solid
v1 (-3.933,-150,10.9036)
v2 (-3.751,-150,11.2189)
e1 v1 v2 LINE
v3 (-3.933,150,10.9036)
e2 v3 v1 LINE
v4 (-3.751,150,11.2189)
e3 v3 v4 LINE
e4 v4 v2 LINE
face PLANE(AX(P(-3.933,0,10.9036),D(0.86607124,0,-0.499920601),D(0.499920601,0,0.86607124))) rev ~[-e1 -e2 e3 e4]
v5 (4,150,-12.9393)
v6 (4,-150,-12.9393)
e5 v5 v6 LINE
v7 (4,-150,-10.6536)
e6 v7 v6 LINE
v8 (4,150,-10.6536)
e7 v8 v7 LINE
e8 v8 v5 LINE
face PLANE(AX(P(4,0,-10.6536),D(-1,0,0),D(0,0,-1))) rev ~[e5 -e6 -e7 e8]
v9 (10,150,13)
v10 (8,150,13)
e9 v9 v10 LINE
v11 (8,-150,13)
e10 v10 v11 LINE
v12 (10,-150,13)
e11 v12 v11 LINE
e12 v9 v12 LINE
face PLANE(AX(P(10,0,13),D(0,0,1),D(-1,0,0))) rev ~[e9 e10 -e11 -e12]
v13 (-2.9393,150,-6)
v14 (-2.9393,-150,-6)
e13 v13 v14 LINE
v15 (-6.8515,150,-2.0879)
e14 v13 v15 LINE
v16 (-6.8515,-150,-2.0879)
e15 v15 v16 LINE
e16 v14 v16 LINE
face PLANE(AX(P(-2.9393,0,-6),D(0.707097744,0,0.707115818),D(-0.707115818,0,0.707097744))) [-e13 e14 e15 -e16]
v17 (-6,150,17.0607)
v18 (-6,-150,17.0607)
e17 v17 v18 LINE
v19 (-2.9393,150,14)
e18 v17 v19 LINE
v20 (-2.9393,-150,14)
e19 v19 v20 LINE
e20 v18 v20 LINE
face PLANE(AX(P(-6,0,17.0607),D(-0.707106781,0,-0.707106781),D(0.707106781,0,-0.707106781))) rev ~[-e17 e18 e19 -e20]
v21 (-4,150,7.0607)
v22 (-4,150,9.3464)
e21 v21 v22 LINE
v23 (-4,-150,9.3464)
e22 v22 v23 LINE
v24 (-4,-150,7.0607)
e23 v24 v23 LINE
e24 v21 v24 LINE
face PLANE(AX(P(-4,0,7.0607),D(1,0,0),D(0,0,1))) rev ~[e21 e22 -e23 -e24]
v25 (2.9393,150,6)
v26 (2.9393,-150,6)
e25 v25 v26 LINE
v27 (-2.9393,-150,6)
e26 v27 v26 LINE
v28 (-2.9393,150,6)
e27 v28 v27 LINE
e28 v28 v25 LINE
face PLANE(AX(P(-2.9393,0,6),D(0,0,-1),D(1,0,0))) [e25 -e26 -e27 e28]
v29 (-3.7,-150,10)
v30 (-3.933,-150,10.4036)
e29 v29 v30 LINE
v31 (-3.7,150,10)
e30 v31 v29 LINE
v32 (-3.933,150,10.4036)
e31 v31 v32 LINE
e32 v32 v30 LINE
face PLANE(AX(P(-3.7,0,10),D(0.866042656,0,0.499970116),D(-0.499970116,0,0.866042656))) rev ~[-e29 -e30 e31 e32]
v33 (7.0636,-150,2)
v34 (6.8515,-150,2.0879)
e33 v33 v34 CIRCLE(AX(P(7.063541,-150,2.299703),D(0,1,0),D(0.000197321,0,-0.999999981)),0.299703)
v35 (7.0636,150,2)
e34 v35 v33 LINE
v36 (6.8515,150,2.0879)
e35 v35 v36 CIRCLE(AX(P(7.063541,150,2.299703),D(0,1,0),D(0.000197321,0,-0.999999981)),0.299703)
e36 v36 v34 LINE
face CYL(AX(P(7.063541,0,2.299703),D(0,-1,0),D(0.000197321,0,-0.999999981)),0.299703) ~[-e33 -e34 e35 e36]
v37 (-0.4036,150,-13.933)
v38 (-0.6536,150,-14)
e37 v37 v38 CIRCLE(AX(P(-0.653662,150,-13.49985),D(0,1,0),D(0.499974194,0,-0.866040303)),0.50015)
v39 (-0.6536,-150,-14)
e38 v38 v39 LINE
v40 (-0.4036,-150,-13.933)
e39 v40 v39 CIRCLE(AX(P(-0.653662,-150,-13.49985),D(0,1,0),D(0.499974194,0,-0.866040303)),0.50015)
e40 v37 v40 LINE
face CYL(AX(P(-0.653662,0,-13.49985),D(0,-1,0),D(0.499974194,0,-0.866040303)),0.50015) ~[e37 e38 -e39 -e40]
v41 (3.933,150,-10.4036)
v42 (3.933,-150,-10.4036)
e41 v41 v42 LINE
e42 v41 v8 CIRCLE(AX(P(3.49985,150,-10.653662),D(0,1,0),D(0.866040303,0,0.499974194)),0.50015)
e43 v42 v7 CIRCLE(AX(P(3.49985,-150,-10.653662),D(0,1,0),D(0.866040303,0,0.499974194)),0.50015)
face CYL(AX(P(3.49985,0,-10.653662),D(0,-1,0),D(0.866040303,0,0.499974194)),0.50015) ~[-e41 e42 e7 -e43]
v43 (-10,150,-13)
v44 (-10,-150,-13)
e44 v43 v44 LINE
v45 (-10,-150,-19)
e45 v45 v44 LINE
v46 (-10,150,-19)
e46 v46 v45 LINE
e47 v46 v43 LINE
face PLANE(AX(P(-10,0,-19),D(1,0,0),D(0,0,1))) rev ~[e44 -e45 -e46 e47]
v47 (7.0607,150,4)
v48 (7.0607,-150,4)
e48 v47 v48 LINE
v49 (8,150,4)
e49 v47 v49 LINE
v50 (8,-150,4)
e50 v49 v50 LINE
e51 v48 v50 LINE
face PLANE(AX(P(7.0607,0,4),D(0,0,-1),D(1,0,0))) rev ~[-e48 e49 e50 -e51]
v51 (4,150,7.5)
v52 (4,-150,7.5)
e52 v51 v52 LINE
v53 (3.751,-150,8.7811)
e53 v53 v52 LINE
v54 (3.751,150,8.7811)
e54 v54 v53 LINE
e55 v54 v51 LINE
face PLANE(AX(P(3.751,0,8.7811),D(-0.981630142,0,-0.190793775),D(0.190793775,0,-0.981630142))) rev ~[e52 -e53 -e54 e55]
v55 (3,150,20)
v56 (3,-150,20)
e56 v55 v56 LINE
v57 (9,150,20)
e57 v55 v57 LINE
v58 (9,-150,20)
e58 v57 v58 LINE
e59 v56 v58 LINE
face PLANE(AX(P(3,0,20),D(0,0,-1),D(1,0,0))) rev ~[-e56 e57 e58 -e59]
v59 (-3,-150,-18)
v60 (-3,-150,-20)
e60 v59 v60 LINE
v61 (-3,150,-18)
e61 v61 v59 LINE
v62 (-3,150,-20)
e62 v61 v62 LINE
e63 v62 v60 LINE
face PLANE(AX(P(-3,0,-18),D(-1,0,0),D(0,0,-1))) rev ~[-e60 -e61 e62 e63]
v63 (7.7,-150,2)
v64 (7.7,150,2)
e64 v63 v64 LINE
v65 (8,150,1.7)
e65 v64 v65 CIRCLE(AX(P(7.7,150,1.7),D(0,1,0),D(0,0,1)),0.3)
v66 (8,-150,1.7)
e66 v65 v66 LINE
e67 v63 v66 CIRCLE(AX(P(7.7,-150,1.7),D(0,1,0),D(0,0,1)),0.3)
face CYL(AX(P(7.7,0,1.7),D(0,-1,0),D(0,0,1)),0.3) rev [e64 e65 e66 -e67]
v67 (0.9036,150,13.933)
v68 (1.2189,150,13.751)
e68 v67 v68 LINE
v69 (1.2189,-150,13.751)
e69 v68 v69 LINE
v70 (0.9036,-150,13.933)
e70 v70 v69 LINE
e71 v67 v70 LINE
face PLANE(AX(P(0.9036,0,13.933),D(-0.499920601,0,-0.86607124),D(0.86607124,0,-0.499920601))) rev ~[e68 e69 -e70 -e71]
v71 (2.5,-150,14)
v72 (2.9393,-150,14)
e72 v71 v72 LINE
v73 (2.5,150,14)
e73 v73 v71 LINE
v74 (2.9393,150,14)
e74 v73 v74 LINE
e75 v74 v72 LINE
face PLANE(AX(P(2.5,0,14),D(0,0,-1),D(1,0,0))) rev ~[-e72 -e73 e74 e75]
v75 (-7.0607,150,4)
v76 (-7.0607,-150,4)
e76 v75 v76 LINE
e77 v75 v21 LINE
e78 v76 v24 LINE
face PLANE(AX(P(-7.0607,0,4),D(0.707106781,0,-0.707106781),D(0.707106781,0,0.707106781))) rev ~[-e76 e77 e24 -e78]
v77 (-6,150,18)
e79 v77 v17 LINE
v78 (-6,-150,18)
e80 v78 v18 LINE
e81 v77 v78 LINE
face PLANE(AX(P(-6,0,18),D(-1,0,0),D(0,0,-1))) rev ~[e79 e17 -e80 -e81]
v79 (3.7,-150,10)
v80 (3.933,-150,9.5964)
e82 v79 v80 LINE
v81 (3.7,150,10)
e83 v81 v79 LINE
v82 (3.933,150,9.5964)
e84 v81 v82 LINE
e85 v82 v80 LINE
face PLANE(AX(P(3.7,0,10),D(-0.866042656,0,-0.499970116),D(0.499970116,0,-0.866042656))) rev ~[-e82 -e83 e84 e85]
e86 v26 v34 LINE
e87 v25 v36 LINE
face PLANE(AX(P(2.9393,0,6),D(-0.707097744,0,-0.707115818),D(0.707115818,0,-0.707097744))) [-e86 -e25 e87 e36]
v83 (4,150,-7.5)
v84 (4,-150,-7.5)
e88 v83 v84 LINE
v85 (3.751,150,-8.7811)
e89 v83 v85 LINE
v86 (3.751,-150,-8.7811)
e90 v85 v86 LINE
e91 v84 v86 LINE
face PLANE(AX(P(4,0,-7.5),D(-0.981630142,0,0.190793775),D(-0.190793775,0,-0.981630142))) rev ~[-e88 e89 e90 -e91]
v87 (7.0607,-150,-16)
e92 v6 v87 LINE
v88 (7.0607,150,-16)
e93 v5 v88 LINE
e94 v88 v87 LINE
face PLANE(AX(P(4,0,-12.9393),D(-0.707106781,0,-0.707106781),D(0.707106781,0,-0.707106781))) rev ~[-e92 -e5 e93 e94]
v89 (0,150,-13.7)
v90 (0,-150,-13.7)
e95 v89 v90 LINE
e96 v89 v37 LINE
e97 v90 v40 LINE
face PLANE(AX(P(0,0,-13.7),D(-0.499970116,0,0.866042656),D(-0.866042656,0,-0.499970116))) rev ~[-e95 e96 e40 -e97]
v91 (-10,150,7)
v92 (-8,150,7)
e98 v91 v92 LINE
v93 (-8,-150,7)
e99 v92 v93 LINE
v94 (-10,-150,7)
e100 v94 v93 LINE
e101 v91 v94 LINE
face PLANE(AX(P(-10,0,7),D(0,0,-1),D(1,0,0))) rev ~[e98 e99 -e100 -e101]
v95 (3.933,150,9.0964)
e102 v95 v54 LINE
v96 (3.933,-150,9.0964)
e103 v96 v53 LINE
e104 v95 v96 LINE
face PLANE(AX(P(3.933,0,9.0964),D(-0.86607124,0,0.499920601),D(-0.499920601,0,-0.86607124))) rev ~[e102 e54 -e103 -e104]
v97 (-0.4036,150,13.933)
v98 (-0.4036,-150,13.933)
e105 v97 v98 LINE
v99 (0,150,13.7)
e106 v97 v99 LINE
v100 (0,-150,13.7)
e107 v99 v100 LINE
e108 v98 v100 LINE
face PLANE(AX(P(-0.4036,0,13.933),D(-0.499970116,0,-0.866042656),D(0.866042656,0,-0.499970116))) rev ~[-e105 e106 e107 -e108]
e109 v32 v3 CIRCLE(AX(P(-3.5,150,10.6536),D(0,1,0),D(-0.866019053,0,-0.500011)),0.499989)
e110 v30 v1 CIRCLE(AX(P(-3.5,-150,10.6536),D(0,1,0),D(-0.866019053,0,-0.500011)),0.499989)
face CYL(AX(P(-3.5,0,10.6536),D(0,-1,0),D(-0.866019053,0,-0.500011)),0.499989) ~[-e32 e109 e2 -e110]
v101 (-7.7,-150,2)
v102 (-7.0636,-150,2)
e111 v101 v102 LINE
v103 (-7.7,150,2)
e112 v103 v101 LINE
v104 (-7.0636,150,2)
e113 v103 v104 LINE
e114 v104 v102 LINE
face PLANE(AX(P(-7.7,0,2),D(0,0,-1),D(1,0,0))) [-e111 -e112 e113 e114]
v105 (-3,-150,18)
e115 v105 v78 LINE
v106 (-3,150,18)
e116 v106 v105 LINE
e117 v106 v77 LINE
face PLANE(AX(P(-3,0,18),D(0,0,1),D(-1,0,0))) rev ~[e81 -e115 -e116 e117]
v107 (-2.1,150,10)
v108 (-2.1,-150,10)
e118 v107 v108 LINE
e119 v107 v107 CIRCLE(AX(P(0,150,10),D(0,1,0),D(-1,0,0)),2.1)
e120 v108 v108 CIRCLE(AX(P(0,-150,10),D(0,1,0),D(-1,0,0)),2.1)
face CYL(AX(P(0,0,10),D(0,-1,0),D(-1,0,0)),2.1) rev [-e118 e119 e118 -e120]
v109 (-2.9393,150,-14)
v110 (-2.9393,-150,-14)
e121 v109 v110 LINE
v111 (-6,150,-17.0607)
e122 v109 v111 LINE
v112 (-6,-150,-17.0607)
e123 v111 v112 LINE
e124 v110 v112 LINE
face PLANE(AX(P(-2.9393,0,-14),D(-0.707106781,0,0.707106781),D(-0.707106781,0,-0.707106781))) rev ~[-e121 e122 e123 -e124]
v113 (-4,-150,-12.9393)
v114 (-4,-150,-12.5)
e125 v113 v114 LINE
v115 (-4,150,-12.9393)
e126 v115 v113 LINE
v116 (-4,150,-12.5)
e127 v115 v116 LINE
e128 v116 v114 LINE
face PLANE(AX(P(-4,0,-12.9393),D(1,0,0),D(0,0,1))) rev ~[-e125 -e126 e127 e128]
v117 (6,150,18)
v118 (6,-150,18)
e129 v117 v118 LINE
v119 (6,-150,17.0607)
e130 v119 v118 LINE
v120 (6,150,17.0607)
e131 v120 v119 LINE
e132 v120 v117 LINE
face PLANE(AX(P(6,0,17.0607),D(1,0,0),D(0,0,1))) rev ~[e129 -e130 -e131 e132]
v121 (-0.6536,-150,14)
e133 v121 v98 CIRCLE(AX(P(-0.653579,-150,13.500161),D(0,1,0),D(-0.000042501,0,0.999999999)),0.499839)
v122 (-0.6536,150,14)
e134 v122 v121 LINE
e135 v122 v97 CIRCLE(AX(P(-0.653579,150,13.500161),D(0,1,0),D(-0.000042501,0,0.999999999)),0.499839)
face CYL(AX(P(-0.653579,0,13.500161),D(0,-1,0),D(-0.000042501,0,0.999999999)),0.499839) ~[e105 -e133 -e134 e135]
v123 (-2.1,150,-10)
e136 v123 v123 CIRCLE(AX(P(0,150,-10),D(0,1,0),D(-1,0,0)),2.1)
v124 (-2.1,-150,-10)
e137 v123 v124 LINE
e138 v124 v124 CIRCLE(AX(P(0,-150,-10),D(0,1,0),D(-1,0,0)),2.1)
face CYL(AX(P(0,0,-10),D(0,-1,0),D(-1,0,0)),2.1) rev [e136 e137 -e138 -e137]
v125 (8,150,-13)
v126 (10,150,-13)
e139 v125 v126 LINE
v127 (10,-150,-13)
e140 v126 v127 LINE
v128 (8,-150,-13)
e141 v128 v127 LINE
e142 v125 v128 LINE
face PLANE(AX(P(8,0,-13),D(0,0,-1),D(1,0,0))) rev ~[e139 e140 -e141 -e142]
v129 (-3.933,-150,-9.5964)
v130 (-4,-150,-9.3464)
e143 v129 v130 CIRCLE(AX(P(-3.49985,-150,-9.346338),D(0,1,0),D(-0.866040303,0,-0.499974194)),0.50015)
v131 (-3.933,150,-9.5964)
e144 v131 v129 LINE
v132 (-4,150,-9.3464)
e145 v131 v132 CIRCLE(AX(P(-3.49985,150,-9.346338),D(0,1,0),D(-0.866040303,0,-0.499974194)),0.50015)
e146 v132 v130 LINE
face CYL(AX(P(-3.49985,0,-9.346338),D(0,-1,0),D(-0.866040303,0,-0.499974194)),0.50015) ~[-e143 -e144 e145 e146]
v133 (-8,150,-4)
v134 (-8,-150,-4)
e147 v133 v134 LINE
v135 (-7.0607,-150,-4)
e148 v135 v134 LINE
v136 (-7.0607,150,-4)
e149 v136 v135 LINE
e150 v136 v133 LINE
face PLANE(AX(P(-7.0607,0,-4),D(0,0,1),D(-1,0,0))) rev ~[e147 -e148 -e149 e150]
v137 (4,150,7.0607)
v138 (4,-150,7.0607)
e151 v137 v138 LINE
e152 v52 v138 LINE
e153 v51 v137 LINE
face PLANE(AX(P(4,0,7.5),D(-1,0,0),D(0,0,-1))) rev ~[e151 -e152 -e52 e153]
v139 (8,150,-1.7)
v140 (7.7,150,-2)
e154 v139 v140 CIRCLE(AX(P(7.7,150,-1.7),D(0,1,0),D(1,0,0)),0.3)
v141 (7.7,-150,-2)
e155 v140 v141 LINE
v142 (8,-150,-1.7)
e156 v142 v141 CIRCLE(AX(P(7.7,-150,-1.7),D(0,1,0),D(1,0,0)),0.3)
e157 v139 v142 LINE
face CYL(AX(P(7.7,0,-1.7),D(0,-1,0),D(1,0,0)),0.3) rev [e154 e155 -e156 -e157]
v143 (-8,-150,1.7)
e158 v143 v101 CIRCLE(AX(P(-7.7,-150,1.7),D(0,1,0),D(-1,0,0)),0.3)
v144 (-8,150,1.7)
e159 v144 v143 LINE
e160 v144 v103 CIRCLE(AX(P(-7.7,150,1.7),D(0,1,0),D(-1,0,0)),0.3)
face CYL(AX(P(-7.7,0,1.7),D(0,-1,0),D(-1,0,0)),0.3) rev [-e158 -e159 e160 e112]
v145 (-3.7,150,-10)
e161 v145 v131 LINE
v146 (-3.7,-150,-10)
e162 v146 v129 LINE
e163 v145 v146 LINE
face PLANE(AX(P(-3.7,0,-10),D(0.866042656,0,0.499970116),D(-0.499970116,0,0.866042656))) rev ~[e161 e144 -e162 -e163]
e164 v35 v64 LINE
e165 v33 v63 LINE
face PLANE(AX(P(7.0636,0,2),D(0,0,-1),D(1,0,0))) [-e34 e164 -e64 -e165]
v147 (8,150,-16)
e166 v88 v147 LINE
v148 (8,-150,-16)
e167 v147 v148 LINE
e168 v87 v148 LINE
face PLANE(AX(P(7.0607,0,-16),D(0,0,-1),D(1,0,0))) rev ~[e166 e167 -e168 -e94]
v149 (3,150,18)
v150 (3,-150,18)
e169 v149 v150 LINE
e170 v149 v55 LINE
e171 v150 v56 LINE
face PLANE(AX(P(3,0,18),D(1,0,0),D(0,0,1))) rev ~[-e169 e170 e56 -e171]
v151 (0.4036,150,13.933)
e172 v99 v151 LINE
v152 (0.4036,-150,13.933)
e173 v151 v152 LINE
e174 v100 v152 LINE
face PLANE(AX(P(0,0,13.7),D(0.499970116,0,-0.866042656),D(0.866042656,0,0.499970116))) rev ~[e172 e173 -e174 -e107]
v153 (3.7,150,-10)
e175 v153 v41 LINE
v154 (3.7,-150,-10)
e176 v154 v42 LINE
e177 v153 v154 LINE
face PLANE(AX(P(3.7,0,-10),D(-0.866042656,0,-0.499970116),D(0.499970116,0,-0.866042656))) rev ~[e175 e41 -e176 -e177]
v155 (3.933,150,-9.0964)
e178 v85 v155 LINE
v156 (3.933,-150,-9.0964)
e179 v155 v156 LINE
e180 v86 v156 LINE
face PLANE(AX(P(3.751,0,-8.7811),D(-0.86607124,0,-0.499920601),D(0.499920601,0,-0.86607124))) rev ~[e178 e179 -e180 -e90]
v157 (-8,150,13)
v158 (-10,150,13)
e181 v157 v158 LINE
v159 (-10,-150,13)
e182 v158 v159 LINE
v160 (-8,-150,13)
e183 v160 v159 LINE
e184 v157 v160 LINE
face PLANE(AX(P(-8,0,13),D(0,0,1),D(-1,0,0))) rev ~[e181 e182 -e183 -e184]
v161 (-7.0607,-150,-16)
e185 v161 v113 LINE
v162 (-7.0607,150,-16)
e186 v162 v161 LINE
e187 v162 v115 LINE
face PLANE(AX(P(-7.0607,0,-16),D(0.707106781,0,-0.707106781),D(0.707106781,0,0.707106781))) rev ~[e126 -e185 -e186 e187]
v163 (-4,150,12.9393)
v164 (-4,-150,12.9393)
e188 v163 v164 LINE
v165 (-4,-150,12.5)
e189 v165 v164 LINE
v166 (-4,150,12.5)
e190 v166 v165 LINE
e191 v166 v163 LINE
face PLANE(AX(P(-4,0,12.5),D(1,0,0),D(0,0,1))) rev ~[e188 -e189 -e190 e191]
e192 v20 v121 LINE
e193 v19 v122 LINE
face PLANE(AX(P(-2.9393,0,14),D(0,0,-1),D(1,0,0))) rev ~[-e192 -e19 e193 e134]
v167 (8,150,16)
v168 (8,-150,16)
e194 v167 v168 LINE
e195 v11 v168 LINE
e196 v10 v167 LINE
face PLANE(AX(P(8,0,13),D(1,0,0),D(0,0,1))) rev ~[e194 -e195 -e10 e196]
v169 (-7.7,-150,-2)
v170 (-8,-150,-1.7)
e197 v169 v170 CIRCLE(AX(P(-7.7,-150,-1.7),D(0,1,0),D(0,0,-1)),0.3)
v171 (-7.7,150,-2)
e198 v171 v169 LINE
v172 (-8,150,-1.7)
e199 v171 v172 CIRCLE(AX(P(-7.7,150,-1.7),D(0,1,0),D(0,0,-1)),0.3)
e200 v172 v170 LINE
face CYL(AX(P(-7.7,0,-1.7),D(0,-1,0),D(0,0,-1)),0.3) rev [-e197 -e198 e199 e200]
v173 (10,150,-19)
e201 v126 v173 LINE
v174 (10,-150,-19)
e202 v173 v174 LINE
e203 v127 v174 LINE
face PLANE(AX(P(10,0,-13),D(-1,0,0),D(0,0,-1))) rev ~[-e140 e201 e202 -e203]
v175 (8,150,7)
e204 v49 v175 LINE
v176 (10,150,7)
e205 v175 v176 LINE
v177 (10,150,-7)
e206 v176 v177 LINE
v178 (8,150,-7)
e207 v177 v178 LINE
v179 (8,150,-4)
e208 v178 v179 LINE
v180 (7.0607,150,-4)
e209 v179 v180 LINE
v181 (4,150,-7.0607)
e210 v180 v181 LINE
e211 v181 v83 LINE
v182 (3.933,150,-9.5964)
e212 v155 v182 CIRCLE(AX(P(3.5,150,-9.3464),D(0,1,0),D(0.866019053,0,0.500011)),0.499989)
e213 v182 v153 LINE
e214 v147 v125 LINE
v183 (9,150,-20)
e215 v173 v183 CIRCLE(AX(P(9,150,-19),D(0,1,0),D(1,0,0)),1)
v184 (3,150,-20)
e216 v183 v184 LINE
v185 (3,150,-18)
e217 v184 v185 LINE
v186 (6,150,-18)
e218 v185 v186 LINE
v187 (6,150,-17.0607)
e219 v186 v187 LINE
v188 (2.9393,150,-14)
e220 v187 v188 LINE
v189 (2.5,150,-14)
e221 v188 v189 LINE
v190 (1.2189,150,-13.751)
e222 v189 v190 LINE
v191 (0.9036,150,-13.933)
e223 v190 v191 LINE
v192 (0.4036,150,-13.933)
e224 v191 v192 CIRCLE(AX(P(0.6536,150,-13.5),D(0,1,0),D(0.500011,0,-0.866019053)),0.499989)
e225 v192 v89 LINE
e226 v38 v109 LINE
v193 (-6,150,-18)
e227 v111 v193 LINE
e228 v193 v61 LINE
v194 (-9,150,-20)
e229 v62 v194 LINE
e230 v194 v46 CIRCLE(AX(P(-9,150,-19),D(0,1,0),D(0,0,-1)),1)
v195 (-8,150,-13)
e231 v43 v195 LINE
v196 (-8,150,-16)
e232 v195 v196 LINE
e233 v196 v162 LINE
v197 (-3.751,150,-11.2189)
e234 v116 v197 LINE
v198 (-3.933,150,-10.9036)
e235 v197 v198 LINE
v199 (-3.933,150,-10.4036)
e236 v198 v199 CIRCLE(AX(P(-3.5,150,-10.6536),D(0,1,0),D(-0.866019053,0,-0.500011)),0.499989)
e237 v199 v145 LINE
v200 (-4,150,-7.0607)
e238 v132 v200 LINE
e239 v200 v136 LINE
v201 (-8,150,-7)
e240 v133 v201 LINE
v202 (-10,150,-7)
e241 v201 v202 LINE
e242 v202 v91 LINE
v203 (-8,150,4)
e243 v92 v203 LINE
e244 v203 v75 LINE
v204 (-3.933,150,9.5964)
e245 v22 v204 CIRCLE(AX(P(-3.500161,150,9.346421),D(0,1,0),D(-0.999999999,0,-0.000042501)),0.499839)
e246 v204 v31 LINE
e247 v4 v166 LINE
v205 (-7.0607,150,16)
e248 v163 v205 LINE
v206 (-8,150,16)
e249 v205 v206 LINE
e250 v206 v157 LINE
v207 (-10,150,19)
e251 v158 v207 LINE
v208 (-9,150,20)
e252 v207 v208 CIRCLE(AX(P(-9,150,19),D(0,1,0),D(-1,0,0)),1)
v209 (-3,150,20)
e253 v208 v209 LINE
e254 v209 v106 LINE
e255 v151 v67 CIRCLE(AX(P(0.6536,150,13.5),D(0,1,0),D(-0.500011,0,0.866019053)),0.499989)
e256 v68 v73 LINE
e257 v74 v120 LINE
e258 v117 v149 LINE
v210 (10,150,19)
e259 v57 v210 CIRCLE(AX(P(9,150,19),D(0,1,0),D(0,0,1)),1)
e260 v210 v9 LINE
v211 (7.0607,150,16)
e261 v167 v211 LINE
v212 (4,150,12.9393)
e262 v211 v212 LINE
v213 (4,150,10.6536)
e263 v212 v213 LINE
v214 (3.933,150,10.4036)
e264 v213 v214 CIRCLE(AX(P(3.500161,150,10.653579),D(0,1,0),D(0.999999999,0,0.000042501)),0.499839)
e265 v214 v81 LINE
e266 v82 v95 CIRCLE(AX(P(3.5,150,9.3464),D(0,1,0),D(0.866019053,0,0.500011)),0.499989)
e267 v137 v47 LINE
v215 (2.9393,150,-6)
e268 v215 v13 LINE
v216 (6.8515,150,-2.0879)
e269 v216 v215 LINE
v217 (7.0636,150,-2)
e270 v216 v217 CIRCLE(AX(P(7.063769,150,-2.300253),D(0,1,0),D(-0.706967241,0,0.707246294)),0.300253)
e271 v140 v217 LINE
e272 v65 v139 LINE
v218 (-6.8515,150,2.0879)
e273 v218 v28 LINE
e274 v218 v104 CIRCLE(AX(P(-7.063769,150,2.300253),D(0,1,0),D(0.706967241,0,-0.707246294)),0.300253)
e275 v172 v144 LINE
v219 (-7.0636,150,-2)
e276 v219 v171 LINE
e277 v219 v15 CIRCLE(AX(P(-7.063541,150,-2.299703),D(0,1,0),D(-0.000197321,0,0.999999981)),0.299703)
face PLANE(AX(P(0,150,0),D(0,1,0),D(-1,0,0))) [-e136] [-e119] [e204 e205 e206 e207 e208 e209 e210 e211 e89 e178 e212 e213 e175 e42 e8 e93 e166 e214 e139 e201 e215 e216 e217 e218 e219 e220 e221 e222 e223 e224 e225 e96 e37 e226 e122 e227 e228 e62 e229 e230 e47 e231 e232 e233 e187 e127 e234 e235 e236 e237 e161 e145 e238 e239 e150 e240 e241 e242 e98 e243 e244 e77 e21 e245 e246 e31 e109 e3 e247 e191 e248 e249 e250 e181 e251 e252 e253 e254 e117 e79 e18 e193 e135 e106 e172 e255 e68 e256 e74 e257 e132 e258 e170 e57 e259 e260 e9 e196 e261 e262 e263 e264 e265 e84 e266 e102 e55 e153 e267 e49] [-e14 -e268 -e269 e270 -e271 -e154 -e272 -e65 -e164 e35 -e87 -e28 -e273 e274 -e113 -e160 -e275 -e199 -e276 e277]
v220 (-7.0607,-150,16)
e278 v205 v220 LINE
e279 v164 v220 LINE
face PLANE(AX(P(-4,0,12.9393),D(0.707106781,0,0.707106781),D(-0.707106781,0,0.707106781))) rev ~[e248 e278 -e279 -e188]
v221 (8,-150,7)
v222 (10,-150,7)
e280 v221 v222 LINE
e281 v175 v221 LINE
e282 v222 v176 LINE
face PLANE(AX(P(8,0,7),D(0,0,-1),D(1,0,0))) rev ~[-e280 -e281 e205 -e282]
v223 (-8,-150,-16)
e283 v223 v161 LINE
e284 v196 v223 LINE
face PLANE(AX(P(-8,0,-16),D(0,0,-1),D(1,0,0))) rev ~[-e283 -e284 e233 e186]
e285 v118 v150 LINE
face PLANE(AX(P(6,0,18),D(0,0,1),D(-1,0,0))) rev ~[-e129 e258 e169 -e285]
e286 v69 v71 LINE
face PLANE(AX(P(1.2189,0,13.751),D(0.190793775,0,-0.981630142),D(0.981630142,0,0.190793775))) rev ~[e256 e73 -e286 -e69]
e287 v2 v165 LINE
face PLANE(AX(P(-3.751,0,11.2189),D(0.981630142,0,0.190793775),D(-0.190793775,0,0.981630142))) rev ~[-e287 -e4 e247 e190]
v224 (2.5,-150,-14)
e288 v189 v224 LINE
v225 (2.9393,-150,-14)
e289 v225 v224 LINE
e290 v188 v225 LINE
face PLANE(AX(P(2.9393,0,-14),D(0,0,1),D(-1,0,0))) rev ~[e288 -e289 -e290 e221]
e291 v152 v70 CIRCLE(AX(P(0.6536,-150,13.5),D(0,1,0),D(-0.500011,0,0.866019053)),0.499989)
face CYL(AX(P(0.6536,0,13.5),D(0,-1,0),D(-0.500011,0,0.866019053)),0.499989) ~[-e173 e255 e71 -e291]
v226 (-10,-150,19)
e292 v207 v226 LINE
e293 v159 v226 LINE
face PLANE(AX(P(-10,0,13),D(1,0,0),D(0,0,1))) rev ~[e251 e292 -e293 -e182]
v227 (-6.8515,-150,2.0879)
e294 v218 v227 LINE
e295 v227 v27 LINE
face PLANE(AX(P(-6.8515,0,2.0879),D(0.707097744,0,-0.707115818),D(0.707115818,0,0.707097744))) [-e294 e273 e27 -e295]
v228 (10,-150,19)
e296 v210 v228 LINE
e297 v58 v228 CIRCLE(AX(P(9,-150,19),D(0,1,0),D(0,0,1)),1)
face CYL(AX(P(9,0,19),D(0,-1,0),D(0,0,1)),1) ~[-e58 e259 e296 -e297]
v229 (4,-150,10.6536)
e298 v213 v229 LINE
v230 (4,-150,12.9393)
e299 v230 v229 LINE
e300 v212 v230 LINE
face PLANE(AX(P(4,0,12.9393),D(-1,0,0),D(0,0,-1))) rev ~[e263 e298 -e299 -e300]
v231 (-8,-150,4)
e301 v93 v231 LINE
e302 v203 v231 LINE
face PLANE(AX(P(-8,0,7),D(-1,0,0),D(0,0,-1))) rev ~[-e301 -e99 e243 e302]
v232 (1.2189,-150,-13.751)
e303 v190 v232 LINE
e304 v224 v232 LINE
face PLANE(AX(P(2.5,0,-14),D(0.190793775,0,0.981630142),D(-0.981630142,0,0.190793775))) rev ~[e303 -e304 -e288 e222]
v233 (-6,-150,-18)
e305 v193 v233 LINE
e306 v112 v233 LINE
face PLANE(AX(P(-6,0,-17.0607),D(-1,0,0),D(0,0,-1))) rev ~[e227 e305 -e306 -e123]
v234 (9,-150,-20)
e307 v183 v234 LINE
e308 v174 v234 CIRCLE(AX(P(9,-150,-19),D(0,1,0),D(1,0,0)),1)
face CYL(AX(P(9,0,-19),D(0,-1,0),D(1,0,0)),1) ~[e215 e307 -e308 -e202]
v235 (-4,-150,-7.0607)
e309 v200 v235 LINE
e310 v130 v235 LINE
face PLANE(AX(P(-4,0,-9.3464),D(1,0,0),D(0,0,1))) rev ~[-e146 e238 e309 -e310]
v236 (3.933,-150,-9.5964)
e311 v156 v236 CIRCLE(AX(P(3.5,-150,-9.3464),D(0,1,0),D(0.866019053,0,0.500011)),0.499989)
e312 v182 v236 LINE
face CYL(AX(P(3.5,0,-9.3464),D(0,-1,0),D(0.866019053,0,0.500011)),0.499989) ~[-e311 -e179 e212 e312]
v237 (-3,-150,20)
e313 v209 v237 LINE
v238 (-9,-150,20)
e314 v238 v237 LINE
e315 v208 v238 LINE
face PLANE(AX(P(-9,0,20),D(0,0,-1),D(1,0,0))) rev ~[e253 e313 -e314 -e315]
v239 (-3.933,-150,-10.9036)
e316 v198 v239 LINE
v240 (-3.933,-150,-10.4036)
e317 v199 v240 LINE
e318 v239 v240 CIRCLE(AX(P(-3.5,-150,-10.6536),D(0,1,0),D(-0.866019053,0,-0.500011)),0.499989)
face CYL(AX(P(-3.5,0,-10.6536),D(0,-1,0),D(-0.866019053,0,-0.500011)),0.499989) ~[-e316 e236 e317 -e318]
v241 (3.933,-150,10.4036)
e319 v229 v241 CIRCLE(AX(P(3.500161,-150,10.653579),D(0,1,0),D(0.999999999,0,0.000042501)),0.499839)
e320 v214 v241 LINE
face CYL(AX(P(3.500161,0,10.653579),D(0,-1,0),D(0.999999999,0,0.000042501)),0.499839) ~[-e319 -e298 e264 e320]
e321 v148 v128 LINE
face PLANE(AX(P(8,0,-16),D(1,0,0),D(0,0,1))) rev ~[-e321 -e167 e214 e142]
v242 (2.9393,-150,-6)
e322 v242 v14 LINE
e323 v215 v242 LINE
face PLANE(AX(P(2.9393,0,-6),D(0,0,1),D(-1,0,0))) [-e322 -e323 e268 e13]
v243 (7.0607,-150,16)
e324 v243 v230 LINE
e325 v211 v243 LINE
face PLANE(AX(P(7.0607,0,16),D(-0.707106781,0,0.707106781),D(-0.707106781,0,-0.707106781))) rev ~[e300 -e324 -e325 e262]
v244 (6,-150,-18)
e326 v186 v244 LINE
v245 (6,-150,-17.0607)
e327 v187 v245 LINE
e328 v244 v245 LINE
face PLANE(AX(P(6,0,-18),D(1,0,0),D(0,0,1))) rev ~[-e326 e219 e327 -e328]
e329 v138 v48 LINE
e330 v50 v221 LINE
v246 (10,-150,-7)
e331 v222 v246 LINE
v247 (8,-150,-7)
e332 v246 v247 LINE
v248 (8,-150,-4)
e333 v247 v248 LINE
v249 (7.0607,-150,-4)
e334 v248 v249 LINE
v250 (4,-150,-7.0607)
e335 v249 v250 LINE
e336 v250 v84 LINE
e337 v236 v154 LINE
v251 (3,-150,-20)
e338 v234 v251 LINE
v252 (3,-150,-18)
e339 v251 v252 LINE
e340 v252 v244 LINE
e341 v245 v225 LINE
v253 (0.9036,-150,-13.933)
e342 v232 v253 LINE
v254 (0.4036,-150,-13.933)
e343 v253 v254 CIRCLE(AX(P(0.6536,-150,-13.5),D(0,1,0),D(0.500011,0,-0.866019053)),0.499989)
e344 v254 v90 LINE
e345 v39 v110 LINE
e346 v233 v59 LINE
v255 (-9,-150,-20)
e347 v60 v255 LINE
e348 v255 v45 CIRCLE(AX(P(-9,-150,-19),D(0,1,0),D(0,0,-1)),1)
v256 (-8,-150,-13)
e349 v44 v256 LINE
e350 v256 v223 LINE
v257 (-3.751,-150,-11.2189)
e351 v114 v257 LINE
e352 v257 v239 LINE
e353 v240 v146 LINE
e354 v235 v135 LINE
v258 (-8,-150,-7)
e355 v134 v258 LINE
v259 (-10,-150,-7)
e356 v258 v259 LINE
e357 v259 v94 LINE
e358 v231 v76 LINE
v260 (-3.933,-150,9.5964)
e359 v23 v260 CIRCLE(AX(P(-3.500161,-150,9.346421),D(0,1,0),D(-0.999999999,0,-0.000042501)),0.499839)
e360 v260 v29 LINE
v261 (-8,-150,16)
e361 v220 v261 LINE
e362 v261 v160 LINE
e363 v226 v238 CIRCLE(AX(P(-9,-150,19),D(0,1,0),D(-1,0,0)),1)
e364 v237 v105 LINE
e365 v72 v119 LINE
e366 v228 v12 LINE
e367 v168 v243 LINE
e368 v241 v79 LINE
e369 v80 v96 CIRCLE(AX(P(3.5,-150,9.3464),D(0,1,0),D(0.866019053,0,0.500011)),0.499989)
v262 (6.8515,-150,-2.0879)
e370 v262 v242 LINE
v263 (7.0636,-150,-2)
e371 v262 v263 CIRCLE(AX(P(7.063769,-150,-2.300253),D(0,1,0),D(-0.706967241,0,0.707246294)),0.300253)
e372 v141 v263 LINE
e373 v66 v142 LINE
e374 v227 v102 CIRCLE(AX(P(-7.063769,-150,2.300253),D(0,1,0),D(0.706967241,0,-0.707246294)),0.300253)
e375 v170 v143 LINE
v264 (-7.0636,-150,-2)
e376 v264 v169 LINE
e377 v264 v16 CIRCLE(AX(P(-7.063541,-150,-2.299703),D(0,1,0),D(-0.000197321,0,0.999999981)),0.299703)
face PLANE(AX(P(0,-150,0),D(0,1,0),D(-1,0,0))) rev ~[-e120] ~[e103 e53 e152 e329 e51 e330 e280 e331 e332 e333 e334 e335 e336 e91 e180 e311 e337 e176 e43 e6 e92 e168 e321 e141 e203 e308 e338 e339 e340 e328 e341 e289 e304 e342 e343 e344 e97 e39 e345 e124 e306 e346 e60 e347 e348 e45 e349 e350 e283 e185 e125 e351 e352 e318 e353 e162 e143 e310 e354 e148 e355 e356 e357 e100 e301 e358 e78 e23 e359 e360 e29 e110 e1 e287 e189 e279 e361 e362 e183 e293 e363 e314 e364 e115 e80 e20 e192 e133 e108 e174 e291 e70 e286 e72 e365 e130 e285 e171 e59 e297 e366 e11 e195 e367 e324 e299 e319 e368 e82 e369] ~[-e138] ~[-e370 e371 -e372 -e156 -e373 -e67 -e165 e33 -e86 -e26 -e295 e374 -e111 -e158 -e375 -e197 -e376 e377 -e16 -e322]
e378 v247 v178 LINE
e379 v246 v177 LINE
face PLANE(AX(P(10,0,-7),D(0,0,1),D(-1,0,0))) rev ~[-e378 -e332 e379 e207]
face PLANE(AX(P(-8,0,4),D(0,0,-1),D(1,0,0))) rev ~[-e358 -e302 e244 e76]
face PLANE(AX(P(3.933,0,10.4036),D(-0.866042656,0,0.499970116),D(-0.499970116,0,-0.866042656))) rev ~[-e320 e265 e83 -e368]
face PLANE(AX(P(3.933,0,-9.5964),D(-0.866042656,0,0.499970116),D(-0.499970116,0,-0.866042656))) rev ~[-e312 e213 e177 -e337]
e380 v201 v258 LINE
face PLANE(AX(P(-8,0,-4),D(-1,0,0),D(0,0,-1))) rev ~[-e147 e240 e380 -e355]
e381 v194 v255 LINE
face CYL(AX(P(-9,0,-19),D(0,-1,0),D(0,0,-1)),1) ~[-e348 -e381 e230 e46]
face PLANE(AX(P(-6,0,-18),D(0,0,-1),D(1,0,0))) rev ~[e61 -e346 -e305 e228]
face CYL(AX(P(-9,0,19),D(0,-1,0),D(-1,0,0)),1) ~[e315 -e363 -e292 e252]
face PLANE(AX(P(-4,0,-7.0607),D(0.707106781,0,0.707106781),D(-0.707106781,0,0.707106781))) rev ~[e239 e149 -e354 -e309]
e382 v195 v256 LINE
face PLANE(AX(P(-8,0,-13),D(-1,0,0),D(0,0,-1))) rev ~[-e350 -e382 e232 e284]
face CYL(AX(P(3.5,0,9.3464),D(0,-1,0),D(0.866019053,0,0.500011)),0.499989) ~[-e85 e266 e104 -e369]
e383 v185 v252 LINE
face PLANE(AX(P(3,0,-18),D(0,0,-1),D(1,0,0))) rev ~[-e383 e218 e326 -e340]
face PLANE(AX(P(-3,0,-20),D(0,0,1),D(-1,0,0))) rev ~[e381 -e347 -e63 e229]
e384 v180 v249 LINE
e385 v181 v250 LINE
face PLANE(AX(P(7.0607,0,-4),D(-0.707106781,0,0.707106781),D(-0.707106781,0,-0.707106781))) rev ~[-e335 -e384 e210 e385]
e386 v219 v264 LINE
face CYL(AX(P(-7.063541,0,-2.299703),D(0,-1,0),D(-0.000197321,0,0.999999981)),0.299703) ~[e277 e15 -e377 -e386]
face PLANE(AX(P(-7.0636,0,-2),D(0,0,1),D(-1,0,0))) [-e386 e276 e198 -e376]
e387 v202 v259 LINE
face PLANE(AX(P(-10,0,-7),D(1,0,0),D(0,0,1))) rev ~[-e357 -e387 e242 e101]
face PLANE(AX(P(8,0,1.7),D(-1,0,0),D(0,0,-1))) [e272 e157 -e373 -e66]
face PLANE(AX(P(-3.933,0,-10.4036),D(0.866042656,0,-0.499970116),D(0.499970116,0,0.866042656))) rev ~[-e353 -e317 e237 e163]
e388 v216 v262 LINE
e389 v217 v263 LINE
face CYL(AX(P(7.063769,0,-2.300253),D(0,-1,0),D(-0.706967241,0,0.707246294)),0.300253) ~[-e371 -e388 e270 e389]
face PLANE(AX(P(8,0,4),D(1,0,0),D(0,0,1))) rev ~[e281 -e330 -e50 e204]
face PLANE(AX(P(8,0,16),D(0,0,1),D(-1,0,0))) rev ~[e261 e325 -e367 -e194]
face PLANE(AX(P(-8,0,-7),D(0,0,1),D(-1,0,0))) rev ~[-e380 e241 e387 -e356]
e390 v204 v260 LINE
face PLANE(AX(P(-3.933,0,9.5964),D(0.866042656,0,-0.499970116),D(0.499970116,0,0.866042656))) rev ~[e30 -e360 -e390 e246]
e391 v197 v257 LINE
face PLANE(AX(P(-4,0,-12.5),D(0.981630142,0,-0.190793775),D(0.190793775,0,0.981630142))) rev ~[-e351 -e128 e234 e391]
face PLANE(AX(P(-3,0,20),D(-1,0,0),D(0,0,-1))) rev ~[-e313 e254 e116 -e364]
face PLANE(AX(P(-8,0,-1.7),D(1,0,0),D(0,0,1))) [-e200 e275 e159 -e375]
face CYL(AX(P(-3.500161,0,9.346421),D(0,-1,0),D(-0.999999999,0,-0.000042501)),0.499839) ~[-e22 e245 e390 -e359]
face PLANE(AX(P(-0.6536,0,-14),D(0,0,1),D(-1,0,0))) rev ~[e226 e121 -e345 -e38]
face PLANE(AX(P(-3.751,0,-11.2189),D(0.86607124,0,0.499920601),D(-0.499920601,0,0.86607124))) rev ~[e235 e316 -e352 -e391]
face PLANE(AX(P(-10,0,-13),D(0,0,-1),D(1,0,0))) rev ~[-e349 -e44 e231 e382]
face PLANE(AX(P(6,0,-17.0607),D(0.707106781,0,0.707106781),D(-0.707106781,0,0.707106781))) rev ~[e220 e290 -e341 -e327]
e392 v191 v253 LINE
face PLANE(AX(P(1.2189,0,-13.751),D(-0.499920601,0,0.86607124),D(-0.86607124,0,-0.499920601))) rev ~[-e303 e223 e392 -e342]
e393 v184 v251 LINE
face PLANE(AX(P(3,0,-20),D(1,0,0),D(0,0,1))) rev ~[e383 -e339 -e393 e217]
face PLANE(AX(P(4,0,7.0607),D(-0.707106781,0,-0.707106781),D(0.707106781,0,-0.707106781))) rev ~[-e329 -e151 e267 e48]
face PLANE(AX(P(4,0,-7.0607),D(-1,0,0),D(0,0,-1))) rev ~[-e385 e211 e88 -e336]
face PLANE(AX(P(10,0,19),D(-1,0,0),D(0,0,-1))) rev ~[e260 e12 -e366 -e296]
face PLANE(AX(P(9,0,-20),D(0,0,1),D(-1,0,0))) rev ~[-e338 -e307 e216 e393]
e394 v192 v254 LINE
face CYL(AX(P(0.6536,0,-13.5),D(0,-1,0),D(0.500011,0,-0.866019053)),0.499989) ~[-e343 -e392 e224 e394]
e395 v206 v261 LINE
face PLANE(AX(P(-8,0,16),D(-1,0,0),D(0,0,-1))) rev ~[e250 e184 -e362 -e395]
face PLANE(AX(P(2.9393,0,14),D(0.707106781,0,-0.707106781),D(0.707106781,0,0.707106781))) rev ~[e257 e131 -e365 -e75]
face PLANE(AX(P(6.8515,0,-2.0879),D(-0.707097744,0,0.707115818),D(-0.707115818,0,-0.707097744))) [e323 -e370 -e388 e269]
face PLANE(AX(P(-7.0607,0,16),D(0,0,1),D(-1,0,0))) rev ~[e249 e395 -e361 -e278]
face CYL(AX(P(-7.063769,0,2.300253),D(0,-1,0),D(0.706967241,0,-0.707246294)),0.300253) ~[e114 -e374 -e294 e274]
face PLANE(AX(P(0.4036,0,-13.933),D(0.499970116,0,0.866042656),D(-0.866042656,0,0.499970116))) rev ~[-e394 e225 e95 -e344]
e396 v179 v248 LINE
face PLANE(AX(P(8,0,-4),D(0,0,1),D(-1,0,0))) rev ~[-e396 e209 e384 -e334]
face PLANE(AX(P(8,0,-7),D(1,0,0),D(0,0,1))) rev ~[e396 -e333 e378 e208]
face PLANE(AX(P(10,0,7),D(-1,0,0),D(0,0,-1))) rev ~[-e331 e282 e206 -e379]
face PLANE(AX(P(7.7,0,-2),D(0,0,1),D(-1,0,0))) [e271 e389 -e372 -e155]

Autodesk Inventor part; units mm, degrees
ref_plane "YZ Plane" through (0, 0, 0) normal (1, 0, 0) x (0, 1, 0)
ref_plane "XZ Plane" through (0, 0, 0) normal (0, 1, 0) x (-1, 0, 0)
ref_plane "XY Plane" through (0, 0, 0) normal (0, 0, 1) x (1, 0, 0)
sketch "Sketch1" plane through (0, 0, 0) normal (0, 1, 0) x (-1, 0, 0)
  line L0 (-10, 7) -> (-10, -7)
  line L1 (-10, -7) -> (-8, -7)
  line L2 (-8, -7) -> (-8, -4)
  line L3 (-8, -4) -> (-7.0607, -4)
  line L4 (-7.0607, -4) -> (-4, -7.0607)
  line L5 (-4, -7.0607) -> (-4, -7.5)
  line L6 (-4, -7.5) -> (-3.751, -8.7811)
  line L7 (-3.751, -8.7811) -> (-3.933, -9.0964)
  arc A0 (-3.933, -9.0964) -> (-3.933, -9.5964) centre (-3.5, -9.3464) ccw
  line L8 (-3.933, -9.5964) -> (-3.7, -10)
  line L9 (-3.7, -10) -> (-3.933, -10.4036)
  arc A1 (-3.933, -10.4036) -> (-4, -10.6536) centre (-3.5, -10.6536) ccw
  line L10 (-4, -10.6536) -> (-4, -12.9393)
  line L11 (-4, -12.9393) -> (-7.0607, -16)
  line L12 (-7.0607, -16) -> (-8, -16)
  line L13 (-8, -16) -> (-8, -13)
  line L14 (-8, -13) -> (-10, -13)
  line L15 (-10, -13) -> (-10, -19)
  arc A2 (-10, -19) -> (-9, -20) centre (-9, -19) ccw
  line L16 (-9, -20) -> (-3, -20)
  line L17 (-3, -20) -> (-3, -18)
  line L18 (-3, -18) -> (-6, -18)
  line L19 (-6, -18) -> (-6, -17.0607)
  line L20 (-6, -17.0607) -> (-2.9393, -14)
  line L21 (-2.9393, -14) -> (-2.5, -14)
  line L22 (-2.5, -14) -> (-1.2189, -13.751)
  line L23 (-1.2189, -13.751) -> (-0.9036, -13.933)
  arc A3 (-0.9036, -13.933) -> (-0.4036, -13.933) centre (-0.6536, -13.5) ccw
  line L24 (-0.4036, -13.933) -> (0, -13.7)
  line L25 (0, -13.7) -> (0.4036, -13.933)
  arc A4 (0.4036, -13.933) -> (0.6536, -14) centre (0.6536, -13.5) ccw
  line L26 (0.6536, -14) -> (2.9393, -14)
  line L27 (2.9393, -14) -> (6, -17.0607)
  line L28 (6, -17.0607) -> (6, -18)
  line L29 (6, -18) -> (3, -18)
  line L30 (3, -18) -> (3, -20)
  line L31 (3, -20) -> (9, -20)
  arc A5 (9, -20) -> (10, -19) centre (9, -19) ccw
  line L32 (10, -19) -> (10, -13)
  line L33 (10, -13) -> (8, -13)
  line L34 (8, -13) -> (8, -16)
  line L35 (8, -16) -> (7.0607, -16)
  line L36 (7.0607, -16) -> (4, -12.9393)
  line L37 (4, -12.9393) -> (4, -12.5)
  line L38 (4, -12.5) -> (3.751, -11.2189)
  line L39 (3.751, -11.2189) -> (3.933, -10.9036)
  arc A6 (3.933, -10.9036) -> (3.933, -10.4036) centre (3.5, -10.6536) ccw
  line L40 (3.933, -10.4036) -> (3.7, -10)
  line L41 (3.7, -10) -> (3.933, -9.5964)
  arc A7 (3.933, -9.5964) -> (4, -9.3464) centre (3.5, -9.3464) ccw
  line L42 (4, -9.3464) -> (4, -7.0607)
  line L43 (4, -7.0607) -> (7.0607, -4)
  line L44 (7.0607, -4) -> (8, -4)
  line L45 (8, -4) -> (8, -7)
  line L46 (8, -7) -> (10, -7)
  line L47 (10, -7) -> (10, 7)
  line L48 (10, 7) -> (8, 7)
  line L49 (8, 7) -> (8, 4)
  line L50 (8, 4) -> (7.0607, 4)
  line L51 (7.0607, 4) -> (4, 7.0607)
  line L52 (4, 7.0607) -> (4, 9.3464)
  arc A8 (4, 9.3464) -> (3.933, 9.5964) centre (3.5, 9.3464) ccw
  line L53 (3.933, 9.5964) -> (3.7, 10)
  line L54 (3.7, 10) -> (3.933, 10.4036)
  arc A9 (3.933, 10.4036) -> (3.933, 10.9036) centre (3.5, 10.6536) ccw
  line L55 (3.933, 10.9036) -> (3.751, 11.2189)
  line L56 (3.751, 11.2189) -> (4, 12.5)
  line L57 (4, 12.5) -> (4, 12.9393)
  line L58 (4, 12.9393) -> (7.0607, 16)
  line L59 (7.0607, 16) -> (8, 16)
  line L60 (8, 16) -> (8, 13)
  line L61 (8, 13) -> (10, 13)
  line L62 (10, 13) -> (10, 19)
  arc A10 (10, 19) -> (9, 20) centre (9, 19) ccw
  line L63 (9, 20) -> (3, 20)
  line L64 (3, 20) -> (3, 18)
  line L65 (3, 18) -> (6, 18)
  line L66 (6, 18) -> (6, 17.0607)
  line L67 (6, 17.0607) -> (2.9393, 14)
  line L68 (2.9393, 14) -> (0.6536, 14)
  arc A11 (0.6536, 14) -> (0.4036, 13.933) centre (0.6536, 13.5) ccw
  line L69 (0.4036, 13.933) -> (0, 13.7)
  line L70 (0, 13.7) -> (-0.4036, 13.933)
  arc A12 (-0.4036, 13.933) -> (-0.9036, 13.933) centre (-0.6536, 13.5) ccw
  line L71 (-0.9036, 13.933) -> (-1.2189, 13.751)
  line L72 (-1.2189, 13.751) -> (-2.5, 14)
  line L73 (-2.5, 14) -> (-2.9393, 14)
  line L74 (-2.9393, 14) -> (-6, 17.0607)
  line L75 (-6, 17.0607) -> (-6, 18)
  line L76 (-6, 18) -> (-3, 18)
  line L77 (-3, 18) -> (-3, 20)
  line L78 (-3, 20) -> (-9, 20)
  arc A13 (-9, 20) -> (-10, 19) centre (-9, 19) ccw
  line L79 (-10, 19) -> (-10, 13)
  line L80 (-10, 13) -> (-8, 13)
  line L81 (-8, 13) -> (-8, 16)
  line L82 (-8, 16) -> (-7.0607, 16)
  line L83 (-7.0607, 16) -> (-4, 12.9393)
  line L84 (-4, 12.9393) -> (-4, 10.6536)
  arc A14 (-4, 10.6536) -> (-3.933, 10.4036) centre (-3.5, 10.6536) ccw
  line L85 (-3.933, 10.4036) -> (-3.7, 10)
  line L86 (-3.7, 10) -> (-3.933, 9.5964)
  arc A15 (-3.933, 9.5964) -> (-3.933, 9.0964) centre (-3.5, 9.3464) ccw
  line L87 (-3.933, 9.0964) -> (-3.751, 8.7811)
  line L88 (-3.751, 8.7811) -> (-4, 7.5)
  line L89 (-4, 7.5) -> (-4, 7.0607)
  line L90 (-4, 7.0607) -> (-7.0607, 4)
  line L91 (-7.0607, 4) -> (-8, 4)
  line L92 (-8, 4) -> (-8, 7)
  arc A16 (-7.7, 2) -> (-8, 1.7) centre (-7.7, 1.7) ccw
  line L93 (-7.0636, 2) -> (-7.7, 2)
  arc A17 (-7.0636, 2) -> (-6.8515, 2.0879) centre (-7.0636, 2.3) ccw
  line L94 (-2.9393, 6) -> (-6.8515, 2.0879)
  line L95 (2.9393, 6) -> (-2.9393, 6)
  line L96 (6.8515, 2.0879) -> (2.9393, 6)
  arc A18 (6.8515, 2.0879) -> (7.0636, 2) centre (7.0636, 2.3) ccw
  line L97 (7.7, 2) -> (7.0636, 2)
  arc A19 (8, 1.7) -> (7.7, 2) centre (7.7, 1.7) ccw
  line L98 (8, -1.7) -> (8, 1.7)
  arc A20 (7.7, -2) -> (8, -1.7) centre (7.7, -1.7) ccw
  line L99 (7.0636, -2) -> (7.7, -2)
  arc A21 (7.0636, -2) -> (6.8515, -2.0879) centre (7.0636, -2.3) ccw
  line L100 (2.9393, -6) -> (6.8515, -2.0879)
  line L101 (-2.9393, -6) -> (2.9393, -6)
  line L102 (-6.8515, -2.0879) -> (-2.9393, -6)
  arc A22 (-6.8515, -2.0879) -> (-7.0636, -2) centre (-7.0636, -2.3) ccw
  line L103 (-7.7, -2) -> (-7.0636, -2)
  arc A23 (-8, -1.7) -> (-7.7, -2) centre (-7.7, -1.7) ccw
  line L104 (-8, 1.7) -> (-8, -1.7)
  line L105 (-8, 7) -> (-10, 7)
  circle A24 centre (0, 10) radius 2.1
  circle A25 centre (0, -10) radius 2.1
  line L106 (0, -10) -> (0, 10) construction
  point P0 (0, 0)
  point P1 (0, 0)
extrude "Extrusion1" add sketch "Sketch1" along normal mid plane 300
properties part number "HFS5-2040-300" material "Aluminum 6061"
